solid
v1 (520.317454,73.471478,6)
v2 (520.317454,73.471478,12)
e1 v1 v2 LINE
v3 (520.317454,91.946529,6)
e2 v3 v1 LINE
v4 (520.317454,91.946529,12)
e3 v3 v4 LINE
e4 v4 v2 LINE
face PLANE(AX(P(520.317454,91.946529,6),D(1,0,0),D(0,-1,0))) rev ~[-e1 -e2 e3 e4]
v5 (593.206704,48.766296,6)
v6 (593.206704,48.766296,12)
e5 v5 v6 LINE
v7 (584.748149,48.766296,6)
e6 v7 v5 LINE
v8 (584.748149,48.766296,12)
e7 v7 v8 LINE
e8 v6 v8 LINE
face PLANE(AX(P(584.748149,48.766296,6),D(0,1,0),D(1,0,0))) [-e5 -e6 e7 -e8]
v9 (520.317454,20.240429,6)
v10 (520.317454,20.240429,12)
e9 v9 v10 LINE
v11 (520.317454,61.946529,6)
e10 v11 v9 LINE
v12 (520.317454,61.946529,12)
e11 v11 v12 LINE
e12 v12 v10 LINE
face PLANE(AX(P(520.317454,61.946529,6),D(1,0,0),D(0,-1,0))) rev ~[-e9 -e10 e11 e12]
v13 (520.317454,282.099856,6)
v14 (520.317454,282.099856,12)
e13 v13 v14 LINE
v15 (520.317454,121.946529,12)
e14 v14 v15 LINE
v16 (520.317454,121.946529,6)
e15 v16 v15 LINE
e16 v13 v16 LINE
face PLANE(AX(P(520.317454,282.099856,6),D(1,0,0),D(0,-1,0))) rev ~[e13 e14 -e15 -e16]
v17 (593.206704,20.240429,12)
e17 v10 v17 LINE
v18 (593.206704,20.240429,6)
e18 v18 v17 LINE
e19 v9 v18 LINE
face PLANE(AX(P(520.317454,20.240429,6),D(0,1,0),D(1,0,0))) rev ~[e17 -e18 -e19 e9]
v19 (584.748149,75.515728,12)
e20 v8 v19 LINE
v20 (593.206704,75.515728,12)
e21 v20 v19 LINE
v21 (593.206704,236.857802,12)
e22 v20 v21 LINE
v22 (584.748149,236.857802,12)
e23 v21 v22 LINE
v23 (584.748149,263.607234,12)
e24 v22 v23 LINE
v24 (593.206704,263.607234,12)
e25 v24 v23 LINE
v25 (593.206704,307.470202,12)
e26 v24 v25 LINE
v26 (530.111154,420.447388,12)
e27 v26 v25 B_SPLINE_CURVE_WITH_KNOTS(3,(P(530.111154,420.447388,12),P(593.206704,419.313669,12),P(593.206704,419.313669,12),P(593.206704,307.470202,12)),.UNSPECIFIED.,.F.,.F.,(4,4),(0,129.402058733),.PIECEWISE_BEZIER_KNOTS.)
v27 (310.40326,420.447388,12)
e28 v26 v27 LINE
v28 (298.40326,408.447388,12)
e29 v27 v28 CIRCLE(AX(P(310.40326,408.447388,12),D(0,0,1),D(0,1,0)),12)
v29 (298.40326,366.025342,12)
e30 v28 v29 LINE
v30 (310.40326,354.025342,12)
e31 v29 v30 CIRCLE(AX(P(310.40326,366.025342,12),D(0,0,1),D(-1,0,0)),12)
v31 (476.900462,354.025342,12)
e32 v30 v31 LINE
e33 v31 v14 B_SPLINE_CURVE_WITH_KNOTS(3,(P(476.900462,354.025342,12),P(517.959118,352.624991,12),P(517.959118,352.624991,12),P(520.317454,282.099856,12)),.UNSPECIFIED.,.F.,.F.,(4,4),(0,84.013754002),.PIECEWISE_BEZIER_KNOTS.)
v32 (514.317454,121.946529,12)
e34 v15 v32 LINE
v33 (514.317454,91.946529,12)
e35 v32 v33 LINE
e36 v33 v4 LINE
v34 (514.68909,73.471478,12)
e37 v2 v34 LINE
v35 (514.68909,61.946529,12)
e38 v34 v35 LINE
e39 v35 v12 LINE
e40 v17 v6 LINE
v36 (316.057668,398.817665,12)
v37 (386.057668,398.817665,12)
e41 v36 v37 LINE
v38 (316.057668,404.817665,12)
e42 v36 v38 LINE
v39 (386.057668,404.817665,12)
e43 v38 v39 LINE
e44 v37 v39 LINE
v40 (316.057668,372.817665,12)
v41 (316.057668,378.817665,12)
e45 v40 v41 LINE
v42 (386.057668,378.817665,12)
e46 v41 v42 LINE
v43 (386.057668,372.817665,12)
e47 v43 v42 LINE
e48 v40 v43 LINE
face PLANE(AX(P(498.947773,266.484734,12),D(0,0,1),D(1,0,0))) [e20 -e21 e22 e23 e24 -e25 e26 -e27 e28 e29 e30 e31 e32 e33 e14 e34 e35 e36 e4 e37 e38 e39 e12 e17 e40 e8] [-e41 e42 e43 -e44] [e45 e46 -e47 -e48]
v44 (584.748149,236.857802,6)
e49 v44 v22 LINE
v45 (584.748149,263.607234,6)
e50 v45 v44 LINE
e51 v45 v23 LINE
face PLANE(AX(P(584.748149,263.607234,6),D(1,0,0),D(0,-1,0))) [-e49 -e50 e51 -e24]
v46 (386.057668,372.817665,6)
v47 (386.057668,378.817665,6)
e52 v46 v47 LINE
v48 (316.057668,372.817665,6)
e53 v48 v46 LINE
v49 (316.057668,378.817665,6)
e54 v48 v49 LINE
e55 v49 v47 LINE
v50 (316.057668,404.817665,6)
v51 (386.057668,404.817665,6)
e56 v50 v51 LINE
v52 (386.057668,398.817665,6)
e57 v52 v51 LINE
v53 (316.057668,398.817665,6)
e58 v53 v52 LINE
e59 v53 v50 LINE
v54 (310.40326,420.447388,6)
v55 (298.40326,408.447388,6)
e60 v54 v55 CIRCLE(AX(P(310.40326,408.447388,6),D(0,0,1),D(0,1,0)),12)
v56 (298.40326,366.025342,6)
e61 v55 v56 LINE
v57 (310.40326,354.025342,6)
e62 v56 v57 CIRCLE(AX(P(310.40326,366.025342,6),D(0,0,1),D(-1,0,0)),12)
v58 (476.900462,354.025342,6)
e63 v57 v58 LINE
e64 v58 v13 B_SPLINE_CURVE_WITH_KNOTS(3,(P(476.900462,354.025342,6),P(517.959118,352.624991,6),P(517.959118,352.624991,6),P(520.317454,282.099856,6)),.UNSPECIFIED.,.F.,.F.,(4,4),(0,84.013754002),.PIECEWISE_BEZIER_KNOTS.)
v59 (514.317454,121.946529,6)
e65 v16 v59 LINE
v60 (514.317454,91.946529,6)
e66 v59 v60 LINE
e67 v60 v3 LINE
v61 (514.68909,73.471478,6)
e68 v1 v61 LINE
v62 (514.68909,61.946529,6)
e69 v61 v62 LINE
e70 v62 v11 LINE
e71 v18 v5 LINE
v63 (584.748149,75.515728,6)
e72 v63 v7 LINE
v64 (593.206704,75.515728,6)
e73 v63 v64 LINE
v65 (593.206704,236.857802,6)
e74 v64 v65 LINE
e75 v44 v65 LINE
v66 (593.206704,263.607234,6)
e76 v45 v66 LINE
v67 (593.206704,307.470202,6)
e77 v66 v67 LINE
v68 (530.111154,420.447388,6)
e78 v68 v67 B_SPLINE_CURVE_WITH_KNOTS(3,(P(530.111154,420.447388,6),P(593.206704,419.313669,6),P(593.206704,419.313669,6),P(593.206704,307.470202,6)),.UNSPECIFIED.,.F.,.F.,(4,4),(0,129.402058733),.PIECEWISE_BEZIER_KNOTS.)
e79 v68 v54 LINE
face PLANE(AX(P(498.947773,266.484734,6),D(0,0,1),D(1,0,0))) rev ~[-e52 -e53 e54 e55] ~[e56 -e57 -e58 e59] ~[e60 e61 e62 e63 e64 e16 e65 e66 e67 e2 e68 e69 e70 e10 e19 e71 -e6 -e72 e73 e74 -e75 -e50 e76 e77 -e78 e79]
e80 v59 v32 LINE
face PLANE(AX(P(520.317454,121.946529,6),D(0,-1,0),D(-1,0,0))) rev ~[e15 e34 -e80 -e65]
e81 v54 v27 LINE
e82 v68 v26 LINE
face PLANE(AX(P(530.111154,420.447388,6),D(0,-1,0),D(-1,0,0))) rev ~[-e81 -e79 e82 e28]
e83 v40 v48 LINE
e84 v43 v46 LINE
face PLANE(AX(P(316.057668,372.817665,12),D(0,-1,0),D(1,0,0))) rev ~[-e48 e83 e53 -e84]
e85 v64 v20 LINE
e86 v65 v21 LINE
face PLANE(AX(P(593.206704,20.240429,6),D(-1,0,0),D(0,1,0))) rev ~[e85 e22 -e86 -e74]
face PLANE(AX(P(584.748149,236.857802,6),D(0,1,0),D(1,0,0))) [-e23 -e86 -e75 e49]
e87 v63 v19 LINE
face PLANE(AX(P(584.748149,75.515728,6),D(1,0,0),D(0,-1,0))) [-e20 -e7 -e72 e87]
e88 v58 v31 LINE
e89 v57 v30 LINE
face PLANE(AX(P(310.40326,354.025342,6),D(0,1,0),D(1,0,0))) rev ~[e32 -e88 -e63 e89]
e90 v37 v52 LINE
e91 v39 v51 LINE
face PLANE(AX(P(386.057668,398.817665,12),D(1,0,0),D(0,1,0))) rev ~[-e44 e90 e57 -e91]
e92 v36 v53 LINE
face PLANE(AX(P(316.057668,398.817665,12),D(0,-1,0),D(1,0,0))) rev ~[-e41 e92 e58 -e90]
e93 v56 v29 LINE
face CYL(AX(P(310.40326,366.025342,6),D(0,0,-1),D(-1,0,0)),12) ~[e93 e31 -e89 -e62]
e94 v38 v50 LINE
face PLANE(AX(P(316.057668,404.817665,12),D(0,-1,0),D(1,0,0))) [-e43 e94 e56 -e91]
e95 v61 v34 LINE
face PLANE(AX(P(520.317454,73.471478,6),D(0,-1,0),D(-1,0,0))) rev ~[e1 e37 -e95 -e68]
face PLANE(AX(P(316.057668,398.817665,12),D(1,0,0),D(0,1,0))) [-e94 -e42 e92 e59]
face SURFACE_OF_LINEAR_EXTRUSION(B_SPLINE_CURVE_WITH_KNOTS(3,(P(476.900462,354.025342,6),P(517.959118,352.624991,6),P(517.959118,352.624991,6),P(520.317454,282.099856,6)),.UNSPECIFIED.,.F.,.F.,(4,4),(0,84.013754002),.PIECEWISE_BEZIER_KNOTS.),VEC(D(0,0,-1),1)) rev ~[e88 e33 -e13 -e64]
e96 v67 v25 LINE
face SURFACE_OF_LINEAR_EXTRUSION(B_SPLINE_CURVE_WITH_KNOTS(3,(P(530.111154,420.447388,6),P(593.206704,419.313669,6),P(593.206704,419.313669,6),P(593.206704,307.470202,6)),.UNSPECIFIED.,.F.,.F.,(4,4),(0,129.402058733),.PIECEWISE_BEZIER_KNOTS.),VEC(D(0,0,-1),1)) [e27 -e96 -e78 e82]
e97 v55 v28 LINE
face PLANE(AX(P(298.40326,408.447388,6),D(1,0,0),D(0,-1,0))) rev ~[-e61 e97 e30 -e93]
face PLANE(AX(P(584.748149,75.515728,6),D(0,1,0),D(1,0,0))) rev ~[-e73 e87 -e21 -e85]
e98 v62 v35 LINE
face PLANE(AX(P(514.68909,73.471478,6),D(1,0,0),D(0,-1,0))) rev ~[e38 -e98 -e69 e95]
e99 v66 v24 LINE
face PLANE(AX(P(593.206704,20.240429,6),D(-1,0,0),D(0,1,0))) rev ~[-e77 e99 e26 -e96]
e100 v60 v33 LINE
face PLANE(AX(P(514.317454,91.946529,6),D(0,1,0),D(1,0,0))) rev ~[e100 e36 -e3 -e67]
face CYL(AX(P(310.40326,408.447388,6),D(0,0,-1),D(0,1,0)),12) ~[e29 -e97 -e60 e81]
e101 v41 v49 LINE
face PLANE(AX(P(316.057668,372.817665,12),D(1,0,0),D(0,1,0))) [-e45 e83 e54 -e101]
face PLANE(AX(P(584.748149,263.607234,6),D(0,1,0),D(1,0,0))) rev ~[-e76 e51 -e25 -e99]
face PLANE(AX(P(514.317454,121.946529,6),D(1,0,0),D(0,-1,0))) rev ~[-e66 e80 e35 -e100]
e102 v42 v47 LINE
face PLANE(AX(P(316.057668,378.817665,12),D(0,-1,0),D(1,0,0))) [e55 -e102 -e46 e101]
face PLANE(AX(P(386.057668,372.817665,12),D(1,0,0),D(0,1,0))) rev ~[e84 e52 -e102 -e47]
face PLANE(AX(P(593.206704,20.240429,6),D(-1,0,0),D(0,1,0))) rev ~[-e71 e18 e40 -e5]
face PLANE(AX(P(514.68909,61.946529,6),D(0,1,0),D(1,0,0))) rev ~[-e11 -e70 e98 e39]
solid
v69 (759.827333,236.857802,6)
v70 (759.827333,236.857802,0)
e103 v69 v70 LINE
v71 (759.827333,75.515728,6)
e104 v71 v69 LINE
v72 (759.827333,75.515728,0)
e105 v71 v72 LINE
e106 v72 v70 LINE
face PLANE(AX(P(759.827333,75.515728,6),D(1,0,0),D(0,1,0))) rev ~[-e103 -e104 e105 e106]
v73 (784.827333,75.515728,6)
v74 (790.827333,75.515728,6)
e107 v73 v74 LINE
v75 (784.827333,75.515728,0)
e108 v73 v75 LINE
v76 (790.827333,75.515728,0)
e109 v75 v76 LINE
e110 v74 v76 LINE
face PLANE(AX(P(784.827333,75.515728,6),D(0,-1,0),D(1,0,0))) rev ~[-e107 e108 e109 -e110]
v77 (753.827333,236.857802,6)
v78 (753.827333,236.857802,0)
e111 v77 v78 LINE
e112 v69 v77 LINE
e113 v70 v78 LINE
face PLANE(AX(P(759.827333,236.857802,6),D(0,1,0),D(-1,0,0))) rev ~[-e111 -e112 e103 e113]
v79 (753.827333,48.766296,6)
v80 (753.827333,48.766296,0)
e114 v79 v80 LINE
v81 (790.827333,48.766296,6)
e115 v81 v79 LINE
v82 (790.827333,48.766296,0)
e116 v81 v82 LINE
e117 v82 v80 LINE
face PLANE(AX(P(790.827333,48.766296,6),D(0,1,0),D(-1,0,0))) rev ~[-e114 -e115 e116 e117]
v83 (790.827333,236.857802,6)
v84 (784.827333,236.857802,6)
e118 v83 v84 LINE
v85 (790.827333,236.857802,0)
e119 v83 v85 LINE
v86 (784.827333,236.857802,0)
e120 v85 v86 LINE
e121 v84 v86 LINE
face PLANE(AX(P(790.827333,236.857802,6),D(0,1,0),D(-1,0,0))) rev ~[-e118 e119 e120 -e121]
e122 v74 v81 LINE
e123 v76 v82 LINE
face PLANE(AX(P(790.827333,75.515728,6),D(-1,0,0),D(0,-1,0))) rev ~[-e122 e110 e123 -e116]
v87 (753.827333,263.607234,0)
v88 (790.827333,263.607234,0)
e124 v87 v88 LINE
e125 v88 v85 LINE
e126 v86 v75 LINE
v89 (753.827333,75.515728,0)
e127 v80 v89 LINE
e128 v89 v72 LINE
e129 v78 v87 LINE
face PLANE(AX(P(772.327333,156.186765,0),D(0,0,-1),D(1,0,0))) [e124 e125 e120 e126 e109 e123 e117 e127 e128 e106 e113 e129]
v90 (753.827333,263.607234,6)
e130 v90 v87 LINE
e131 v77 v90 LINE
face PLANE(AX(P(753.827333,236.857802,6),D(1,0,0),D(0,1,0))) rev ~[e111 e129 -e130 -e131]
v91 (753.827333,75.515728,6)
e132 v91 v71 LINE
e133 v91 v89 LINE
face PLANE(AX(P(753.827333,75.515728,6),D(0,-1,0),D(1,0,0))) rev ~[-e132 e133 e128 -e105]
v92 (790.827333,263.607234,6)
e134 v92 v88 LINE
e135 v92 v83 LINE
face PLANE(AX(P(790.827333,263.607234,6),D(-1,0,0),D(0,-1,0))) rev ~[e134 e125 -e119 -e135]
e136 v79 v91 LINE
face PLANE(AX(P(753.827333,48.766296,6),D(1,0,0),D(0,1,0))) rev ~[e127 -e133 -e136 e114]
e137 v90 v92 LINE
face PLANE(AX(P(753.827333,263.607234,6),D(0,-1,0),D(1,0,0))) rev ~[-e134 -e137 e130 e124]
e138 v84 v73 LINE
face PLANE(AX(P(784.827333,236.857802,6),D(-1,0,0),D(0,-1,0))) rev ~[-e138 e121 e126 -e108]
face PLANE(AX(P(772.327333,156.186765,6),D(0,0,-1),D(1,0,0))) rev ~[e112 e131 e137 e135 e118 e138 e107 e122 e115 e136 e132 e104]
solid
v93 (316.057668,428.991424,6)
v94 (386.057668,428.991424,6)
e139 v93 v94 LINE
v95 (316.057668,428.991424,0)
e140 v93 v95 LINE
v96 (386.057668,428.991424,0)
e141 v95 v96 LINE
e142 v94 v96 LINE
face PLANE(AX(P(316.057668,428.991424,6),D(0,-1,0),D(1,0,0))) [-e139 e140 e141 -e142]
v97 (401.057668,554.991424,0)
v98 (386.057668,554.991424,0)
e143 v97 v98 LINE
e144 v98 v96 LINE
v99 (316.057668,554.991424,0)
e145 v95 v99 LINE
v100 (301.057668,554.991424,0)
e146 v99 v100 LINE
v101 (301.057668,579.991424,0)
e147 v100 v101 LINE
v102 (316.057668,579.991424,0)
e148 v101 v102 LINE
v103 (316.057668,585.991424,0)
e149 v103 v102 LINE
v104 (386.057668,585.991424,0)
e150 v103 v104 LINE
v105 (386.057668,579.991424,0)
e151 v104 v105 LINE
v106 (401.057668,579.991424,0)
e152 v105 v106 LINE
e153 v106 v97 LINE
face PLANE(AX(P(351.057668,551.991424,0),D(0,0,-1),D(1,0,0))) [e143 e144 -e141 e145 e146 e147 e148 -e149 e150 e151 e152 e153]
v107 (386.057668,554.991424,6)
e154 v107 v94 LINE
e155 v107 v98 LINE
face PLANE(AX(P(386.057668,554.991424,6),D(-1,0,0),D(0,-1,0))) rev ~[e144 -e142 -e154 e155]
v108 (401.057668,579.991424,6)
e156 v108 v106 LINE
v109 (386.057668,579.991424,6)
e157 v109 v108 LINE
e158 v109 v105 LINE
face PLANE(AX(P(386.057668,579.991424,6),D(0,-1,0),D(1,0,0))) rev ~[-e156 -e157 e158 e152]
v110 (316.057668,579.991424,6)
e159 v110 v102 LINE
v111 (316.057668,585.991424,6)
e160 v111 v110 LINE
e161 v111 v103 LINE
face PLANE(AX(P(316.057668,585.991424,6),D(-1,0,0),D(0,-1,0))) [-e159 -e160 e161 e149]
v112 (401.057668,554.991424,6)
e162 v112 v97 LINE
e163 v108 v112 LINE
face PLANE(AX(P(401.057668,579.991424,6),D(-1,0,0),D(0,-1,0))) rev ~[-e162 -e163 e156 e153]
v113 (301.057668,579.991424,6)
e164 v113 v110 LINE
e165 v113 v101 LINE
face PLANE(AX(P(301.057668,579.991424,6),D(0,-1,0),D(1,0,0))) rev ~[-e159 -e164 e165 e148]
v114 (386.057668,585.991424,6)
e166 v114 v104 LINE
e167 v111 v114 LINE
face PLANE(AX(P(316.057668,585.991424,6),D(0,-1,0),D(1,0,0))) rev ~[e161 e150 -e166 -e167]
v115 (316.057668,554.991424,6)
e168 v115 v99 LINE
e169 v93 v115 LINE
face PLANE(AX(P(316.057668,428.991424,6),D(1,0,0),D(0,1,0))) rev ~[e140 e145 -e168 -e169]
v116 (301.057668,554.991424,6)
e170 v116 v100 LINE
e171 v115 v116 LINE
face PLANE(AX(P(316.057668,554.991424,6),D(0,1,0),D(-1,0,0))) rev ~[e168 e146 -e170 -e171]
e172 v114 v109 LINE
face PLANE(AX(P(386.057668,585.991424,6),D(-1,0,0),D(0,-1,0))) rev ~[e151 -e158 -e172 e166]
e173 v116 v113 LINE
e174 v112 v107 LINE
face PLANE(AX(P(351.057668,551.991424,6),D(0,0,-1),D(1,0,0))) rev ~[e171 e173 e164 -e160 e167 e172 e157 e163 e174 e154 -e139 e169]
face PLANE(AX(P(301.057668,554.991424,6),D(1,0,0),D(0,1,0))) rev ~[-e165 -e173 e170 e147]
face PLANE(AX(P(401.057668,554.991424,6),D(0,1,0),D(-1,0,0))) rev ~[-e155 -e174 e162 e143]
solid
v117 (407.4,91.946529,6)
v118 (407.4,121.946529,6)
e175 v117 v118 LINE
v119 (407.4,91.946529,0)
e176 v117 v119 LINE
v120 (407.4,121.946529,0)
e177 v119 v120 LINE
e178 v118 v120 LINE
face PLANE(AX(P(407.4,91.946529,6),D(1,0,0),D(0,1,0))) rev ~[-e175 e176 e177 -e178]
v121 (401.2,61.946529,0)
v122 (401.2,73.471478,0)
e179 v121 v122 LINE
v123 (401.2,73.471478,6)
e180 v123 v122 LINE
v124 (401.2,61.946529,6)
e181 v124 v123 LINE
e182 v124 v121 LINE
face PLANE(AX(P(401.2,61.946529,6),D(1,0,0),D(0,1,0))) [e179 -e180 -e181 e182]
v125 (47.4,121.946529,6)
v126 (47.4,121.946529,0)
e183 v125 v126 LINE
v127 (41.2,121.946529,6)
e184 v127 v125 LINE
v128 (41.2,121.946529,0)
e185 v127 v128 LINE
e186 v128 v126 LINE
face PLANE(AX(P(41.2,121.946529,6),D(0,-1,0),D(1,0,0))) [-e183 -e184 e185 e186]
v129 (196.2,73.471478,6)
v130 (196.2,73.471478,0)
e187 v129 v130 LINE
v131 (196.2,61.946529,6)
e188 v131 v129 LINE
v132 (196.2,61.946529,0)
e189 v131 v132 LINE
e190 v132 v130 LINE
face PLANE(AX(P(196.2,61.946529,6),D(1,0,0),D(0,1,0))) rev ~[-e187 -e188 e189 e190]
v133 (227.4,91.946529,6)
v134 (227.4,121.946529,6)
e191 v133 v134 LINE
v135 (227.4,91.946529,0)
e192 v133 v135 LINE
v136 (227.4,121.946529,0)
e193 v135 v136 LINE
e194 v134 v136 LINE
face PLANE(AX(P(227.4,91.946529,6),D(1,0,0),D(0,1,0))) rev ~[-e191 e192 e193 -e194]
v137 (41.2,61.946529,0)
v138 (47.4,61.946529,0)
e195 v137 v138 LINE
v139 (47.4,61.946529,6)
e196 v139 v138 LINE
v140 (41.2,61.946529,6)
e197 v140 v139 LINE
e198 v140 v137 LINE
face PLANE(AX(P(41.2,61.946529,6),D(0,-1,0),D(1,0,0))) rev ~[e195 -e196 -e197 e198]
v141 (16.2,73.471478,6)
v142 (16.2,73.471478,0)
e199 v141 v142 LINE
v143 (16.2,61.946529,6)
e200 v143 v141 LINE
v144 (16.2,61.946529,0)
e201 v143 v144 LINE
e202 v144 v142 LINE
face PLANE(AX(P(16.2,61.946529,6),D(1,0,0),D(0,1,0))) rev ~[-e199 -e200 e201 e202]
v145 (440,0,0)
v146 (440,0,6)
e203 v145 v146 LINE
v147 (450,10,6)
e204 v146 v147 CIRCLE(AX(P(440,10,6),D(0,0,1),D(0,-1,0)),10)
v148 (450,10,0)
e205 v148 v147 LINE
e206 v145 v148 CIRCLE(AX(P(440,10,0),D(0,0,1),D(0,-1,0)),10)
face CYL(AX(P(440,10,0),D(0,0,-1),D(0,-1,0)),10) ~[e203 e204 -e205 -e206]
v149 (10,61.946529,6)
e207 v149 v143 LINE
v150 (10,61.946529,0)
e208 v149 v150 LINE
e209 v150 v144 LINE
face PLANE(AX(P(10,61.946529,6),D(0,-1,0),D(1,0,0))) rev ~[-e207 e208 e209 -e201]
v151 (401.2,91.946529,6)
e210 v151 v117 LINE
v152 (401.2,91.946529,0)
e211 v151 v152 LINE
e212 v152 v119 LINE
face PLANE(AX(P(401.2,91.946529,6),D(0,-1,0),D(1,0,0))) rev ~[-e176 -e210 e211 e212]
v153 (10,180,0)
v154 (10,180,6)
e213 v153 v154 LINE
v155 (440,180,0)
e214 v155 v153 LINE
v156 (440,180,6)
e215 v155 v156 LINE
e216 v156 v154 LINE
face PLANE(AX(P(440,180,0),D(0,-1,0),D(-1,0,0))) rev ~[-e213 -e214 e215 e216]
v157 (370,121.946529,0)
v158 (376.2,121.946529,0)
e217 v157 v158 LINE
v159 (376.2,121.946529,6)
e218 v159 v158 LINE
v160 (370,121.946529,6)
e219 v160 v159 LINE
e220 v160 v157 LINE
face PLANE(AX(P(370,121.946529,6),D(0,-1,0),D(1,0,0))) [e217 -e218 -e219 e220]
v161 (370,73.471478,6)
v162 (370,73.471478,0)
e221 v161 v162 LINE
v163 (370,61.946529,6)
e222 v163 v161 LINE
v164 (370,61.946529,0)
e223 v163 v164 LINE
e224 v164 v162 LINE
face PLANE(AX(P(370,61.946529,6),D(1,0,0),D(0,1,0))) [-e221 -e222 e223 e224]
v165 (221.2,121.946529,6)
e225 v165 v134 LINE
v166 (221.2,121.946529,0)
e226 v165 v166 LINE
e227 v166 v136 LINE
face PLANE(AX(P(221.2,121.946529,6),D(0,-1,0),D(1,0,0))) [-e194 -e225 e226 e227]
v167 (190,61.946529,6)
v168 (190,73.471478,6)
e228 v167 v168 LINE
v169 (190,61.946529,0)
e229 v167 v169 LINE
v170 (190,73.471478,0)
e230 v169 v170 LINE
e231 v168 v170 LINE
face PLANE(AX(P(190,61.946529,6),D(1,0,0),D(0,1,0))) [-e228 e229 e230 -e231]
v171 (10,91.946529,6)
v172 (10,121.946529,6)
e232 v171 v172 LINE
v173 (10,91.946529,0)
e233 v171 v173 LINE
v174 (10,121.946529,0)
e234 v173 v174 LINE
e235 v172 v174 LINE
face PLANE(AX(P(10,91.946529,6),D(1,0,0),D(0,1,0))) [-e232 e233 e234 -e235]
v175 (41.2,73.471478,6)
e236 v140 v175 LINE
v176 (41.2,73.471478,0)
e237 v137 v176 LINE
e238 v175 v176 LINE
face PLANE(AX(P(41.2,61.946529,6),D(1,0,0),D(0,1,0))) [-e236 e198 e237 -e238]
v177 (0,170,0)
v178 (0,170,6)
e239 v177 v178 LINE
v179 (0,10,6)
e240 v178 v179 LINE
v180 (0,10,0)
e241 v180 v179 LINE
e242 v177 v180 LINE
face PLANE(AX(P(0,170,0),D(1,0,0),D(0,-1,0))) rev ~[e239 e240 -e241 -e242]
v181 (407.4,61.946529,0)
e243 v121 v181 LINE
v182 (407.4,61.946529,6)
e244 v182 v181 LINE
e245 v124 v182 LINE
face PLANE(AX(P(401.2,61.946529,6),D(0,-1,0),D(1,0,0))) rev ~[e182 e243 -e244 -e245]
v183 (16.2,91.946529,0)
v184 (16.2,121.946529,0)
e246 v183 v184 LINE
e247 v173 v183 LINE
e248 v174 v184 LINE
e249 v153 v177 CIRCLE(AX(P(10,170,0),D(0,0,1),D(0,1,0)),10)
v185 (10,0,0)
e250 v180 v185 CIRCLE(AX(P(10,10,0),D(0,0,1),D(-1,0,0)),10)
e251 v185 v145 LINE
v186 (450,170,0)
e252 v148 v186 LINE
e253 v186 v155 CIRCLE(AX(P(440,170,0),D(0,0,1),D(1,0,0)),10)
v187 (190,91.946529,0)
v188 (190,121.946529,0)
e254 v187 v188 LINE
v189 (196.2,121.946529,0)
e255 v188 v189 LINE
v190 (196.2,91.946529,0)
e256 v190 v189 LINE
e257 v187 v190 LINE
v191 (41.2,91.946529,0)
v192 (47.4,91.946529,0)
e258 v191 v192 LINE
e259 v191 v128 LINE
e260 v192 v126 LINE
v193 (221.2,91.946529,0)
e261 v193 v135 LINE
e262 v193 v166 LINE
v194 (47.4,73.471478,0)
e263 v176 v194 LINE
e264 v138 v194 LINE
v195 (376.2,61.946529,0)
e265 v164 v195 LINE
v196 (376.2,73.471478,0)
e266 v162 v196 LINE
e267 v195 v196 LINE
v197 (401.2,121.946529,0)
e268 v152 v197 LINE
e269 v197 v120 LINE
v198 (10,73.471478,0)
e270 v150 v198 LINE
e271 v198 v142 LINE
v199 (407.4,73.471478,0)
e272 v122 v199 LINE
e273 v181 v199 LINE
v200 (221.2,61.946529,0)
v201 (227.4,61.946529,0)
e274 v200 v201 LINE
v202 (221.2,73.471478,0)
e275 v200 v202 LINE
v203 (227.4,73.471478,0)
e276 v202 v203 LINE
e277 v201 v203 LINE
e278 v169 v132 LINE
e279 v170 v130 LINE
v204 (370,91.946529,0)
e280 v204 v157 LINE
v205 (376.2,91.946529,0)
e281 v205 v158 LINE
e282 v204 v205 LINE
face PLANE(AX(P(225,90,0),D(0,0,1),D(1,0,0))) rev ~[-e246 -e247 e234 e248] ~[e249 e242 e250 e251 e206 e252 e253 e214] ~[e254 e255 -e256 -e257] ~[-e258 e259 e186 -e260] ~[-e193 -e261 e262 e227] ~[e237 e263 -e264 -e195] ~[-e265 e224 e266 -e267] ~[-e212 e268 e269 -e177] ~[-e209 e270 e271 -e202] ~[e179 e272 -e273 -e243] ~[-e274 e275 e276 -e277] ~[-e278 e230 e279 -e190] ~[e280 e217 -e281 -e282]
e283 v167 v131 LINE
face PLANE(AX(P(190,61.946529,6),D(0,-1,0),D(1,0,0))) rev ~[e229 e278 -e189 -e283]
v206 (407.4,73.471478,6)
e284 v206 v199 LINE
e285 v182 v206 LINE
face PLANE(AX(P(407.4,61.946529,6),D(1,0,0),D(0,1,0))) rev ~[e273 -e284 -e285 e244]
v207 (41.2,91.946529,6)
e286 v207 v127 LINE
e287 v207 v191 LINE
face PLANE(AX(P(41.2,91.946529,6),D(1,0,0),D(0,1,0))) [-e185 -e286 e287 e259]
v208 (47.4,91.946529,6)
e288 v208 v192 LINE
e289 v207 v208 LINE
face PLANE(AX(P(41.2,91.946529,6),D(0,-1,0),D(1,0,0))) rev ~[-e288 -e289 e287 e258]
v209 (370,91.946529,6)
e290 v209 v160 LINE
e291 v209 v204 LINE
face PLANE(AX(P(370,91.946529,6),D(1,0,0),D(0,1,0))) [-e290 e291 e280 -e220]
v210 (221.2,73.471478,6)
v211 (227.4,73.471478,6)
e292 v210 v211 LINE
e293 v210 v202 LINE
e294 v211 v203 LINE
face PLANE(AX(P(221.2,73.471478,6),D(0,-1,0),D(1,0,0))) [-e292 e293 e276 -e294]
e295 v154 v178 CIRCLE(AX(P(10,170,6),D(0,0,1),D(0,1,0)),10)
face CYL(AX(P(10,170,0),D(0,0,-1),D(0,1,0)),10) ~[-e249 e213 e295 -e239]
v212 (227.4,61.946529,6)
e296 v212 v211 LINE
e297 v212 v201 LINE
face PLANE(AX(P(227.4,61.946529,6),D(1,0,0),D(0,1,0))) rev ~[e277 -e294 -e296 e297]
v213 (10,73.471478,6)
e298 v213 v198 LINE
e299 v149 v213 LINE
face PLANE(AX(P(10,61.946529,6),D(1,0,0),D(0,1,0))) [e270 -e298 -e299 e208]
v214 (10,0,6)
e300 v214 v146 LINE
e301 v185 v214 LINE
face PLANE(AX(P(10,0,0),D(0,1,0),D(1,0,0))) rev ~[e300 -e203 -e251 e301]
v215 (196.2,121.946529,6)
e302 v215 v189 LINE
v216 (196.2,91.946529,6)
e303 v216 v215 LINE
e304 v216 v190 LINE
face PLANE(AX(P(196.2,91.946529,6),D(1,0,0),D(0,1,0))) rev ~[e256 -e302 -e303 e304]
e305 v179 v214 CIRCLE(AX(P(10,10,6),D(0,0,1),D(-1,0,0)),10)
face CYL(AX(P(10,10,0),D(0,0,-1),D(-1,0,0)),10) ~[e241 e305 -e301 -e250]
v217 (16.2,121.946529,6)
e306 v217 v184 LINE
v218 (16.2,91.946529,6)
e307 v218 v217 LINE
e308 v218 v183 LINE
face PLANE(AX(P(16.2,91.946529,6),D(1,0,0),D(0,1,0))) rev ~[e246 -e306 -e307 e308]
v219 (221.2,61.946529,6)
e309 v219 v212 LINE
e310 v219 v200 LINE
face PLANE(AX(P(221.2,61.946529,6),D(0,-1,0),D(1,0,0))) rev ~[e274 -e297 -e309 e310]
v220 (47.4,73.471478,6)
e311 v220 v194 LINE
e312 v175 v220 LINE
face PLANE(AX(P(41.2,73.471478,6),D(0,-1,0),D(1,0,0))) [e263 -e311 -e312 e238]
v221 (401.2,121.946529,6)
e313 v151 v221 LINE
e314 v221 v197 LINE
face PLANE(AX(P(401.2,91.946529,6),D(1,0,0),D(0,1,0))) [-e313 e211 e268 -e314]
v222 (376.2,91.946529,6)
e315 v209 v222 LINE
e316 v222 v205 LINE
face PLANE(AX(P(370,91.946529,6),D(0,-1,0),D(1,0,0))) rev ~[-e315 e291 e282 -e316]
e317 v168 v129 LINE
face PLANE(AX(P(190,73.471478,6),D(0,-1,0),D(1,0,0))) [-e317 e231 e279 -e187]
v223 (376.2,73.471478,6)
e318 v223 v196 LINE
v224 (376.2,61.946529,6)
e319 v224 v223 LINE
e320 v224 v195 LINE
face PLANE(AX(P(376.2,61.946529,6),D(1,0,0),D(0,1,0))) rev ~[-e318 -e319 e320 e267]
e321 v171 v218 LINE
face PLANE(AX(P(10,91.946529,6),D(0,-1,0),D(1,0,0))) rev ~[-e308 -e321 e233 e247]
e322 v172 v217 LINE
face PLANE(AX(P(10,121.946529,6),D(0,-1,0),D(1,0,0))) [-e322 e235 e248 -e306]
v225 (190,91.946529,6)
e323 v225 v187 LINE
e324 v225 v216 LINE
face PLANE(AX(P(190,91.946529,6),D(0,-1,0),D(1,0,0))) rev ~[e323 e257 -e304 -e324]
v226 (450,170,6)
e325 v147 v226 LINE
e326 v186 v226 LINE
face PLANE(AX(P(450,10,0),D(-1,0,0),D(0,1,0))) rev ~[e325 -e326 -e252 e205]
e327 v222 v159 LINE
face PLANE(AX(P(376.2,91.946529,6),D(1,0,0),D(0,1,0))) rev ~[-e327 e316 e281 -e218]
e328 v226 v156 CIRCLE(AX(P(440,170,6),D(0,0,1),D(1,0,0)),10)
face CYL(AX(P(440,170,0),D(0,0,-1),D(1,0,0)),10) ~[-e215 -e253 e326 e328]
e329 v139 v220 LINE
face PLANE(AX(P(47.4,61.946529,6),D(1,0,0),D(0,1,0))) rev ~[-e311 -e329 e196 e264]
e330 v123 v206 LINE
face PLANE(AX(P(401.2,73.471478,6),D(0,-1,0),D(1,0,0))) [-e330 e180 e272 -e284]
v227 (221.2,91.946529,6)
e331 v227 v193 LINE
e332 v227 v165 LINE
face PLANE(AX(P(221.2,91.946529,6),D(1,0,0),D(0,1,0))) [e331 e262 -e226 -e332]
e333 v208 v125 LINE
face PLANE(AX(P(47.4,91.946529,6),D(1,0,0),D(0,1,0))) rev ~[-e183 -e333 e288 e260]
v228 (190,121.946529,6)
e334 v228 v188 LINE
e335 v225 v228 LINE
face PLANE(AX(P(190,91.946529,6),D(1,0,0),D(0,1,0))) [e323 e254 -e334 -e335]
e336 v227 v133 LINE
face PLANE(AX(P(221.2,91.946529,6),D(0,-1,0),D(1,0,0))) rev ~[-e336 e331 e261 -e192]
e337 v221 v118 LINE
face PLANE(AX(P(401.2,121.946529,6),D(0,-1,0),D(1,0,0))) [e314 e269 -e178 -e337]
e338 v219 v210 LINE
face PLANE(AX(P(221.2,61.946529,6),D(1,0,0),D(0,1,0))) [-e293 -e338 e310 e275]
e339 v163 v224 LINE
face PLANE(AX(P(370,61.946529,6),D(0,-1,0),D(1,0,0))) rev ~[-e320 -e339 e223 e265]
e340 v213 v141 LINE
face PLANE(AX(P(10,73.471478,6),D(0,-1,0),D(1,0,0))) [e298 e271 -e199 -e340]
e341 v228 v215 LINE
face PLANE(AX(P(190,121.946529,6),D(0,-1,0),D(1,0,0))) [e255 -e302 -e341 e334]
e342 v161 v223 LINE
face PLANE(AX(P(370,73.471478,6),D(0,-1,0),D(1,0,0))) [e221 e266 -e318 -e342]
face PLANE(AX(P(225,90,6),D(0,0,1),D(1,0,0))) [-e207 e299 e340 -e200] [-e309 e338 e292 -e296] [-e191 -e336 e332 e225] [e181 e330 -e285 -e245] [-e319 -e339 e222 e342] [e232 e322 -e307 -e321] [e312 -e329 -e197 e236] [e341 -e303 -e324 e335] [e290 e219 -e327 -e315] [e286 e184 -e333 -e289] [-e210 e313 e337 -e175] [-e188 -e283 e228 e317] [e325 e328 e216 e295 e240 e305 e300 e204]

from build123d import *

# Parameters (mm, degrees)
F1_DEPTH  = 6
F2_W      = 6.2
F2_H      = 30
F2_H_2    = 11.5249490142
F3_DEPTH  = 25
F5_DEPTH  = 6
F6_W      = 70
F6_H      = 6
F7_DEPTH  = 25
F8_W      = 8.4585547447
F8_H      = 26.7494320869
F9_DEPTH  = 25
F11_DEPTH = 6
F12_W     = 70
F12_H     = 6
F12_H_2   = 10
F12_H_3   = 110
F13_DEPTH = 6


with BuildPart() as f1:
    # F0 (on Top) → F1 (new body)
    with BuildSketch(Plane.XY):
        with BuildLine():
            ThreePointArc((0, 10), (2.9289321881, 2.9289321881), (10, 0))
            Line((10, 0), (440, 0))
            ThreePointArc((440, 0), (447.0710678119, 2.9289321881), (450, 10))
            Line((450, 10), (450, 170))
            ThreePointArc((450, 170), (447.0710678119, 177.0710678119), (440, 180))
            Line((440, 180), (10, 180))
            ThreePointArc((10, 180), (2.9289321881, 177.0710678119), (0, 170))
            Line((0, 170), (0, 10))
        make_face()
    extrude(amount=F1_DEPTH)

    # F2 (on face) → F3 (cut)
    with BuildSketch(Plane.XY.offset(6)):
        with Locations((13.1, 106.946528554)):
            Rectangle(F2_W, F2_H)
        with Locations((13.1, 67.7090030611)):
            Rectangle(F2_W, F2_H_2)
        with Locations((44.3, 67.7090030611)):
            Rectangle(F2_W, F2_H_2)
        with Locations((44.3, 106.946528554)):
            Rectangle(F2_W, F2_H)
        with Locations((224.3, 106.946528554)):
            Rectangle(F2_W, F2_H)
        with Locations((193.1, 106.946528554)):
            Rectangle(F2_W, F2_H)
        with Locations((193.1, 67.7090030611)):
            Rectangle(F2_W, F2_H_2)
        with Locations((224.3, 67.7090030611)):
            Rectangle(F2_W, F2_H_2)
        with Locations((404.3, 106.946528554)):
            Rectangle(F2_W, F2_H)
        with Locations((373.1, 106.946528554)):
            Rectangle(F2_W, F2_H)
        with Locations((373.1, 67.7090030611)):
            Rectangle(F2_W, F2_H_2)
        with Locations((404.3, 67.7090030611)):
            Rectangle(F2_W, F2_H_2)
    extrude(amount=-F3_DEPTH, mode=Mode.SUBTRACT)


with BuildPart() as f5:
    # F4 (on face) → F5 (new body)
    with BuildSketch(Plane.XY.offset(6)):
        with BuildLine():
            Line((520.3174543032, 121.946528554), (514.3174543032, 121.946528554))
            Line((514.3174543032, 121.946528554), (514.3174543032, 91.946528554))
            Line((514.3174543032, 91.946528554), (520.3174543032, 91.946528554))
            Line((520.3174543032, 91.946528554), (520.3174543032, 73.4714775681))
            Line((520.3174543032, 73.4714775681), (514.6890902519, 73.4714775681))
            Line((514.6890902519, 73.4714775681), (514.6890902519, 61.946528554))
            Line((514.6890902519, 61.946528554), (520.3174543032, 61.946528554))
            Line((520.3174543032, 61.946528554), (520.3174543032, 20.2404288223))
            Line((520.3174543032, 20.2404288223), (593.2067036629, 20.2404288223))
            Line((593.2067036629, 20.2404288223), (593.2067036629, 307.470202446))
            add(Edge.make_bspline(
                [(530.1111537642, 420.4473876974), (593.2067036629, 419.3136692047), (593.2067036629, 419.3136692047), (593.2067036629, 307.470202446)],
                knots=[0, 0, 0, 0, 129.402058733, 129.402058733, 129.402058733, 129.402058733], degree=3))
            Line((530.1111537642, 420.4473876974), (310.4032595633, 420.4473876974))
            ThreePointArc((310.4032595633, 420.4473876974), (301.917978189, 416.9326690716), (298.4032595633, 408.4473876974))
            Line((298.4032595633, 408.4473876974), (298.4032595633, 366.0253424665))
            ThreePointArc((298.4032595633, 366.0253424665), (301.917978189, 357.5400610923), (310.4032595633, 354.0253424665))
            Line((310.4032595633, 354.0253424665), (476.9004619294, 354.0253424665))
            add(Edge.make_bspline(
                [(476.9004619294, 354.0253424665), (517.9591178894, 352.6249909422), (517.9591178894, 352.6249909422), (520.3174543032, 282.0998557823)],
                knots=[0, 0, 0, 0, 84.0137540023, 84.0137540023, 84.0137540023, 84.0137540023], degree=3))
            Line((520.3174543032, 282.0998557823), (520.3174543032, 121.946528554))
        make_face()
    extrude(amount=F5_DEPTH)

    # F6 (on face) → F7 (cut)
    with BuildSketch(Plane.XY.offset(12)):
        with Locations((351.0576683283, 401.8176653385)):
            Rectangle(F6_W, F6_H)
        with Locations((351.0576683283, 375.8176653385)):
            Rectangle(F6_W, F6_H)
    extrude(amount=-F7_DEPTH, mode=Mode.SUBTRACT)

    # F8 (on face) → F9 (cut)
    with BuildSketch(Plane(origin=(0, 0, 6), x_dir=(1, 0, 0), z_dir=(0, 0, -1))):
        with Locations((588.9774262905, -250.2325177193)):
            Rectangle(F8_W, F8_H)
        with Locations((588.9774262905, -62.1410124004)):
            Rectangle(F8_W, F8_H)
    extrude(amount=-F9_DEPTH, mode=Mode.SUBTRACT)


with BuildPart() as f11:
    # F10 (on face) → F11 (new body)
    with BuildSketch(Plane(origin=(0, 0, 6), x_dir=(1, 0, 0), z_dir=(0, 0, -1))):
        Polygon((753.8273334503, -263.6072337627), (759.8273334503, -263.6072337627), (784.8273334503, -263.6072337627), (790.8273334503, -263.6072337627), (790.8273334503, -236.8578016758), (784.8273334503, -236.8578016758), (784.8273334503, -75.5157284439), (790.8273334503, -75.5157284439), (790.8273334503, -48.7662963569), (784.8273334503, -48.7662963569), (759.8273334503, -48.7662963569), (753.8273334503, -48.7662963569), (753.8273334503, -75.5157284439), (759.8273334503, -75.5157284439), (759.8273334503, -236.8578016758), (753.8273334503, -236.8578016758), align=None)
    extrude(amount=F11_DEPTH)


with BuildPart() as f13:
    # F12 (on face) → F13 (new body)
    with BuildSketch(Plane(origin=(0, 0, 6), x_dir=(1, 0, 0), z_dir=(0, 0, -1))):
        with Locations((351.0576683283, -551.9914240837)):
            Rectangle(F12_W, F12_H)
        with Locations((351.0576683283, -543.9914240837)):
            Rectangle(F12_W, F12_H_2)
        Polygon((401.0576683283, -554.9914240837), (386.0576683283, -554.9914240837), (316.0576683283, -554.9914240837), (301.0576683283, -554.9914240837), (301.0576683283, -579.9914240837), (316.0576683283, -579.9914240837), (386.0576683283, -579.9914240837), (401.0576683283, -579.9914240837), align=None)
        with Locations((351.0576683283, -483.9914240837)):
            Rectangle(F12_W, F12_H_3)
        with Locations((351.0576683283, -582.9914240837)):
            Rectangle(F12_W, F12_H)
    extrude(amount=F13_DEPTH)


solid = Compound([f1.part, f5.part, f11.part, f13.part])
